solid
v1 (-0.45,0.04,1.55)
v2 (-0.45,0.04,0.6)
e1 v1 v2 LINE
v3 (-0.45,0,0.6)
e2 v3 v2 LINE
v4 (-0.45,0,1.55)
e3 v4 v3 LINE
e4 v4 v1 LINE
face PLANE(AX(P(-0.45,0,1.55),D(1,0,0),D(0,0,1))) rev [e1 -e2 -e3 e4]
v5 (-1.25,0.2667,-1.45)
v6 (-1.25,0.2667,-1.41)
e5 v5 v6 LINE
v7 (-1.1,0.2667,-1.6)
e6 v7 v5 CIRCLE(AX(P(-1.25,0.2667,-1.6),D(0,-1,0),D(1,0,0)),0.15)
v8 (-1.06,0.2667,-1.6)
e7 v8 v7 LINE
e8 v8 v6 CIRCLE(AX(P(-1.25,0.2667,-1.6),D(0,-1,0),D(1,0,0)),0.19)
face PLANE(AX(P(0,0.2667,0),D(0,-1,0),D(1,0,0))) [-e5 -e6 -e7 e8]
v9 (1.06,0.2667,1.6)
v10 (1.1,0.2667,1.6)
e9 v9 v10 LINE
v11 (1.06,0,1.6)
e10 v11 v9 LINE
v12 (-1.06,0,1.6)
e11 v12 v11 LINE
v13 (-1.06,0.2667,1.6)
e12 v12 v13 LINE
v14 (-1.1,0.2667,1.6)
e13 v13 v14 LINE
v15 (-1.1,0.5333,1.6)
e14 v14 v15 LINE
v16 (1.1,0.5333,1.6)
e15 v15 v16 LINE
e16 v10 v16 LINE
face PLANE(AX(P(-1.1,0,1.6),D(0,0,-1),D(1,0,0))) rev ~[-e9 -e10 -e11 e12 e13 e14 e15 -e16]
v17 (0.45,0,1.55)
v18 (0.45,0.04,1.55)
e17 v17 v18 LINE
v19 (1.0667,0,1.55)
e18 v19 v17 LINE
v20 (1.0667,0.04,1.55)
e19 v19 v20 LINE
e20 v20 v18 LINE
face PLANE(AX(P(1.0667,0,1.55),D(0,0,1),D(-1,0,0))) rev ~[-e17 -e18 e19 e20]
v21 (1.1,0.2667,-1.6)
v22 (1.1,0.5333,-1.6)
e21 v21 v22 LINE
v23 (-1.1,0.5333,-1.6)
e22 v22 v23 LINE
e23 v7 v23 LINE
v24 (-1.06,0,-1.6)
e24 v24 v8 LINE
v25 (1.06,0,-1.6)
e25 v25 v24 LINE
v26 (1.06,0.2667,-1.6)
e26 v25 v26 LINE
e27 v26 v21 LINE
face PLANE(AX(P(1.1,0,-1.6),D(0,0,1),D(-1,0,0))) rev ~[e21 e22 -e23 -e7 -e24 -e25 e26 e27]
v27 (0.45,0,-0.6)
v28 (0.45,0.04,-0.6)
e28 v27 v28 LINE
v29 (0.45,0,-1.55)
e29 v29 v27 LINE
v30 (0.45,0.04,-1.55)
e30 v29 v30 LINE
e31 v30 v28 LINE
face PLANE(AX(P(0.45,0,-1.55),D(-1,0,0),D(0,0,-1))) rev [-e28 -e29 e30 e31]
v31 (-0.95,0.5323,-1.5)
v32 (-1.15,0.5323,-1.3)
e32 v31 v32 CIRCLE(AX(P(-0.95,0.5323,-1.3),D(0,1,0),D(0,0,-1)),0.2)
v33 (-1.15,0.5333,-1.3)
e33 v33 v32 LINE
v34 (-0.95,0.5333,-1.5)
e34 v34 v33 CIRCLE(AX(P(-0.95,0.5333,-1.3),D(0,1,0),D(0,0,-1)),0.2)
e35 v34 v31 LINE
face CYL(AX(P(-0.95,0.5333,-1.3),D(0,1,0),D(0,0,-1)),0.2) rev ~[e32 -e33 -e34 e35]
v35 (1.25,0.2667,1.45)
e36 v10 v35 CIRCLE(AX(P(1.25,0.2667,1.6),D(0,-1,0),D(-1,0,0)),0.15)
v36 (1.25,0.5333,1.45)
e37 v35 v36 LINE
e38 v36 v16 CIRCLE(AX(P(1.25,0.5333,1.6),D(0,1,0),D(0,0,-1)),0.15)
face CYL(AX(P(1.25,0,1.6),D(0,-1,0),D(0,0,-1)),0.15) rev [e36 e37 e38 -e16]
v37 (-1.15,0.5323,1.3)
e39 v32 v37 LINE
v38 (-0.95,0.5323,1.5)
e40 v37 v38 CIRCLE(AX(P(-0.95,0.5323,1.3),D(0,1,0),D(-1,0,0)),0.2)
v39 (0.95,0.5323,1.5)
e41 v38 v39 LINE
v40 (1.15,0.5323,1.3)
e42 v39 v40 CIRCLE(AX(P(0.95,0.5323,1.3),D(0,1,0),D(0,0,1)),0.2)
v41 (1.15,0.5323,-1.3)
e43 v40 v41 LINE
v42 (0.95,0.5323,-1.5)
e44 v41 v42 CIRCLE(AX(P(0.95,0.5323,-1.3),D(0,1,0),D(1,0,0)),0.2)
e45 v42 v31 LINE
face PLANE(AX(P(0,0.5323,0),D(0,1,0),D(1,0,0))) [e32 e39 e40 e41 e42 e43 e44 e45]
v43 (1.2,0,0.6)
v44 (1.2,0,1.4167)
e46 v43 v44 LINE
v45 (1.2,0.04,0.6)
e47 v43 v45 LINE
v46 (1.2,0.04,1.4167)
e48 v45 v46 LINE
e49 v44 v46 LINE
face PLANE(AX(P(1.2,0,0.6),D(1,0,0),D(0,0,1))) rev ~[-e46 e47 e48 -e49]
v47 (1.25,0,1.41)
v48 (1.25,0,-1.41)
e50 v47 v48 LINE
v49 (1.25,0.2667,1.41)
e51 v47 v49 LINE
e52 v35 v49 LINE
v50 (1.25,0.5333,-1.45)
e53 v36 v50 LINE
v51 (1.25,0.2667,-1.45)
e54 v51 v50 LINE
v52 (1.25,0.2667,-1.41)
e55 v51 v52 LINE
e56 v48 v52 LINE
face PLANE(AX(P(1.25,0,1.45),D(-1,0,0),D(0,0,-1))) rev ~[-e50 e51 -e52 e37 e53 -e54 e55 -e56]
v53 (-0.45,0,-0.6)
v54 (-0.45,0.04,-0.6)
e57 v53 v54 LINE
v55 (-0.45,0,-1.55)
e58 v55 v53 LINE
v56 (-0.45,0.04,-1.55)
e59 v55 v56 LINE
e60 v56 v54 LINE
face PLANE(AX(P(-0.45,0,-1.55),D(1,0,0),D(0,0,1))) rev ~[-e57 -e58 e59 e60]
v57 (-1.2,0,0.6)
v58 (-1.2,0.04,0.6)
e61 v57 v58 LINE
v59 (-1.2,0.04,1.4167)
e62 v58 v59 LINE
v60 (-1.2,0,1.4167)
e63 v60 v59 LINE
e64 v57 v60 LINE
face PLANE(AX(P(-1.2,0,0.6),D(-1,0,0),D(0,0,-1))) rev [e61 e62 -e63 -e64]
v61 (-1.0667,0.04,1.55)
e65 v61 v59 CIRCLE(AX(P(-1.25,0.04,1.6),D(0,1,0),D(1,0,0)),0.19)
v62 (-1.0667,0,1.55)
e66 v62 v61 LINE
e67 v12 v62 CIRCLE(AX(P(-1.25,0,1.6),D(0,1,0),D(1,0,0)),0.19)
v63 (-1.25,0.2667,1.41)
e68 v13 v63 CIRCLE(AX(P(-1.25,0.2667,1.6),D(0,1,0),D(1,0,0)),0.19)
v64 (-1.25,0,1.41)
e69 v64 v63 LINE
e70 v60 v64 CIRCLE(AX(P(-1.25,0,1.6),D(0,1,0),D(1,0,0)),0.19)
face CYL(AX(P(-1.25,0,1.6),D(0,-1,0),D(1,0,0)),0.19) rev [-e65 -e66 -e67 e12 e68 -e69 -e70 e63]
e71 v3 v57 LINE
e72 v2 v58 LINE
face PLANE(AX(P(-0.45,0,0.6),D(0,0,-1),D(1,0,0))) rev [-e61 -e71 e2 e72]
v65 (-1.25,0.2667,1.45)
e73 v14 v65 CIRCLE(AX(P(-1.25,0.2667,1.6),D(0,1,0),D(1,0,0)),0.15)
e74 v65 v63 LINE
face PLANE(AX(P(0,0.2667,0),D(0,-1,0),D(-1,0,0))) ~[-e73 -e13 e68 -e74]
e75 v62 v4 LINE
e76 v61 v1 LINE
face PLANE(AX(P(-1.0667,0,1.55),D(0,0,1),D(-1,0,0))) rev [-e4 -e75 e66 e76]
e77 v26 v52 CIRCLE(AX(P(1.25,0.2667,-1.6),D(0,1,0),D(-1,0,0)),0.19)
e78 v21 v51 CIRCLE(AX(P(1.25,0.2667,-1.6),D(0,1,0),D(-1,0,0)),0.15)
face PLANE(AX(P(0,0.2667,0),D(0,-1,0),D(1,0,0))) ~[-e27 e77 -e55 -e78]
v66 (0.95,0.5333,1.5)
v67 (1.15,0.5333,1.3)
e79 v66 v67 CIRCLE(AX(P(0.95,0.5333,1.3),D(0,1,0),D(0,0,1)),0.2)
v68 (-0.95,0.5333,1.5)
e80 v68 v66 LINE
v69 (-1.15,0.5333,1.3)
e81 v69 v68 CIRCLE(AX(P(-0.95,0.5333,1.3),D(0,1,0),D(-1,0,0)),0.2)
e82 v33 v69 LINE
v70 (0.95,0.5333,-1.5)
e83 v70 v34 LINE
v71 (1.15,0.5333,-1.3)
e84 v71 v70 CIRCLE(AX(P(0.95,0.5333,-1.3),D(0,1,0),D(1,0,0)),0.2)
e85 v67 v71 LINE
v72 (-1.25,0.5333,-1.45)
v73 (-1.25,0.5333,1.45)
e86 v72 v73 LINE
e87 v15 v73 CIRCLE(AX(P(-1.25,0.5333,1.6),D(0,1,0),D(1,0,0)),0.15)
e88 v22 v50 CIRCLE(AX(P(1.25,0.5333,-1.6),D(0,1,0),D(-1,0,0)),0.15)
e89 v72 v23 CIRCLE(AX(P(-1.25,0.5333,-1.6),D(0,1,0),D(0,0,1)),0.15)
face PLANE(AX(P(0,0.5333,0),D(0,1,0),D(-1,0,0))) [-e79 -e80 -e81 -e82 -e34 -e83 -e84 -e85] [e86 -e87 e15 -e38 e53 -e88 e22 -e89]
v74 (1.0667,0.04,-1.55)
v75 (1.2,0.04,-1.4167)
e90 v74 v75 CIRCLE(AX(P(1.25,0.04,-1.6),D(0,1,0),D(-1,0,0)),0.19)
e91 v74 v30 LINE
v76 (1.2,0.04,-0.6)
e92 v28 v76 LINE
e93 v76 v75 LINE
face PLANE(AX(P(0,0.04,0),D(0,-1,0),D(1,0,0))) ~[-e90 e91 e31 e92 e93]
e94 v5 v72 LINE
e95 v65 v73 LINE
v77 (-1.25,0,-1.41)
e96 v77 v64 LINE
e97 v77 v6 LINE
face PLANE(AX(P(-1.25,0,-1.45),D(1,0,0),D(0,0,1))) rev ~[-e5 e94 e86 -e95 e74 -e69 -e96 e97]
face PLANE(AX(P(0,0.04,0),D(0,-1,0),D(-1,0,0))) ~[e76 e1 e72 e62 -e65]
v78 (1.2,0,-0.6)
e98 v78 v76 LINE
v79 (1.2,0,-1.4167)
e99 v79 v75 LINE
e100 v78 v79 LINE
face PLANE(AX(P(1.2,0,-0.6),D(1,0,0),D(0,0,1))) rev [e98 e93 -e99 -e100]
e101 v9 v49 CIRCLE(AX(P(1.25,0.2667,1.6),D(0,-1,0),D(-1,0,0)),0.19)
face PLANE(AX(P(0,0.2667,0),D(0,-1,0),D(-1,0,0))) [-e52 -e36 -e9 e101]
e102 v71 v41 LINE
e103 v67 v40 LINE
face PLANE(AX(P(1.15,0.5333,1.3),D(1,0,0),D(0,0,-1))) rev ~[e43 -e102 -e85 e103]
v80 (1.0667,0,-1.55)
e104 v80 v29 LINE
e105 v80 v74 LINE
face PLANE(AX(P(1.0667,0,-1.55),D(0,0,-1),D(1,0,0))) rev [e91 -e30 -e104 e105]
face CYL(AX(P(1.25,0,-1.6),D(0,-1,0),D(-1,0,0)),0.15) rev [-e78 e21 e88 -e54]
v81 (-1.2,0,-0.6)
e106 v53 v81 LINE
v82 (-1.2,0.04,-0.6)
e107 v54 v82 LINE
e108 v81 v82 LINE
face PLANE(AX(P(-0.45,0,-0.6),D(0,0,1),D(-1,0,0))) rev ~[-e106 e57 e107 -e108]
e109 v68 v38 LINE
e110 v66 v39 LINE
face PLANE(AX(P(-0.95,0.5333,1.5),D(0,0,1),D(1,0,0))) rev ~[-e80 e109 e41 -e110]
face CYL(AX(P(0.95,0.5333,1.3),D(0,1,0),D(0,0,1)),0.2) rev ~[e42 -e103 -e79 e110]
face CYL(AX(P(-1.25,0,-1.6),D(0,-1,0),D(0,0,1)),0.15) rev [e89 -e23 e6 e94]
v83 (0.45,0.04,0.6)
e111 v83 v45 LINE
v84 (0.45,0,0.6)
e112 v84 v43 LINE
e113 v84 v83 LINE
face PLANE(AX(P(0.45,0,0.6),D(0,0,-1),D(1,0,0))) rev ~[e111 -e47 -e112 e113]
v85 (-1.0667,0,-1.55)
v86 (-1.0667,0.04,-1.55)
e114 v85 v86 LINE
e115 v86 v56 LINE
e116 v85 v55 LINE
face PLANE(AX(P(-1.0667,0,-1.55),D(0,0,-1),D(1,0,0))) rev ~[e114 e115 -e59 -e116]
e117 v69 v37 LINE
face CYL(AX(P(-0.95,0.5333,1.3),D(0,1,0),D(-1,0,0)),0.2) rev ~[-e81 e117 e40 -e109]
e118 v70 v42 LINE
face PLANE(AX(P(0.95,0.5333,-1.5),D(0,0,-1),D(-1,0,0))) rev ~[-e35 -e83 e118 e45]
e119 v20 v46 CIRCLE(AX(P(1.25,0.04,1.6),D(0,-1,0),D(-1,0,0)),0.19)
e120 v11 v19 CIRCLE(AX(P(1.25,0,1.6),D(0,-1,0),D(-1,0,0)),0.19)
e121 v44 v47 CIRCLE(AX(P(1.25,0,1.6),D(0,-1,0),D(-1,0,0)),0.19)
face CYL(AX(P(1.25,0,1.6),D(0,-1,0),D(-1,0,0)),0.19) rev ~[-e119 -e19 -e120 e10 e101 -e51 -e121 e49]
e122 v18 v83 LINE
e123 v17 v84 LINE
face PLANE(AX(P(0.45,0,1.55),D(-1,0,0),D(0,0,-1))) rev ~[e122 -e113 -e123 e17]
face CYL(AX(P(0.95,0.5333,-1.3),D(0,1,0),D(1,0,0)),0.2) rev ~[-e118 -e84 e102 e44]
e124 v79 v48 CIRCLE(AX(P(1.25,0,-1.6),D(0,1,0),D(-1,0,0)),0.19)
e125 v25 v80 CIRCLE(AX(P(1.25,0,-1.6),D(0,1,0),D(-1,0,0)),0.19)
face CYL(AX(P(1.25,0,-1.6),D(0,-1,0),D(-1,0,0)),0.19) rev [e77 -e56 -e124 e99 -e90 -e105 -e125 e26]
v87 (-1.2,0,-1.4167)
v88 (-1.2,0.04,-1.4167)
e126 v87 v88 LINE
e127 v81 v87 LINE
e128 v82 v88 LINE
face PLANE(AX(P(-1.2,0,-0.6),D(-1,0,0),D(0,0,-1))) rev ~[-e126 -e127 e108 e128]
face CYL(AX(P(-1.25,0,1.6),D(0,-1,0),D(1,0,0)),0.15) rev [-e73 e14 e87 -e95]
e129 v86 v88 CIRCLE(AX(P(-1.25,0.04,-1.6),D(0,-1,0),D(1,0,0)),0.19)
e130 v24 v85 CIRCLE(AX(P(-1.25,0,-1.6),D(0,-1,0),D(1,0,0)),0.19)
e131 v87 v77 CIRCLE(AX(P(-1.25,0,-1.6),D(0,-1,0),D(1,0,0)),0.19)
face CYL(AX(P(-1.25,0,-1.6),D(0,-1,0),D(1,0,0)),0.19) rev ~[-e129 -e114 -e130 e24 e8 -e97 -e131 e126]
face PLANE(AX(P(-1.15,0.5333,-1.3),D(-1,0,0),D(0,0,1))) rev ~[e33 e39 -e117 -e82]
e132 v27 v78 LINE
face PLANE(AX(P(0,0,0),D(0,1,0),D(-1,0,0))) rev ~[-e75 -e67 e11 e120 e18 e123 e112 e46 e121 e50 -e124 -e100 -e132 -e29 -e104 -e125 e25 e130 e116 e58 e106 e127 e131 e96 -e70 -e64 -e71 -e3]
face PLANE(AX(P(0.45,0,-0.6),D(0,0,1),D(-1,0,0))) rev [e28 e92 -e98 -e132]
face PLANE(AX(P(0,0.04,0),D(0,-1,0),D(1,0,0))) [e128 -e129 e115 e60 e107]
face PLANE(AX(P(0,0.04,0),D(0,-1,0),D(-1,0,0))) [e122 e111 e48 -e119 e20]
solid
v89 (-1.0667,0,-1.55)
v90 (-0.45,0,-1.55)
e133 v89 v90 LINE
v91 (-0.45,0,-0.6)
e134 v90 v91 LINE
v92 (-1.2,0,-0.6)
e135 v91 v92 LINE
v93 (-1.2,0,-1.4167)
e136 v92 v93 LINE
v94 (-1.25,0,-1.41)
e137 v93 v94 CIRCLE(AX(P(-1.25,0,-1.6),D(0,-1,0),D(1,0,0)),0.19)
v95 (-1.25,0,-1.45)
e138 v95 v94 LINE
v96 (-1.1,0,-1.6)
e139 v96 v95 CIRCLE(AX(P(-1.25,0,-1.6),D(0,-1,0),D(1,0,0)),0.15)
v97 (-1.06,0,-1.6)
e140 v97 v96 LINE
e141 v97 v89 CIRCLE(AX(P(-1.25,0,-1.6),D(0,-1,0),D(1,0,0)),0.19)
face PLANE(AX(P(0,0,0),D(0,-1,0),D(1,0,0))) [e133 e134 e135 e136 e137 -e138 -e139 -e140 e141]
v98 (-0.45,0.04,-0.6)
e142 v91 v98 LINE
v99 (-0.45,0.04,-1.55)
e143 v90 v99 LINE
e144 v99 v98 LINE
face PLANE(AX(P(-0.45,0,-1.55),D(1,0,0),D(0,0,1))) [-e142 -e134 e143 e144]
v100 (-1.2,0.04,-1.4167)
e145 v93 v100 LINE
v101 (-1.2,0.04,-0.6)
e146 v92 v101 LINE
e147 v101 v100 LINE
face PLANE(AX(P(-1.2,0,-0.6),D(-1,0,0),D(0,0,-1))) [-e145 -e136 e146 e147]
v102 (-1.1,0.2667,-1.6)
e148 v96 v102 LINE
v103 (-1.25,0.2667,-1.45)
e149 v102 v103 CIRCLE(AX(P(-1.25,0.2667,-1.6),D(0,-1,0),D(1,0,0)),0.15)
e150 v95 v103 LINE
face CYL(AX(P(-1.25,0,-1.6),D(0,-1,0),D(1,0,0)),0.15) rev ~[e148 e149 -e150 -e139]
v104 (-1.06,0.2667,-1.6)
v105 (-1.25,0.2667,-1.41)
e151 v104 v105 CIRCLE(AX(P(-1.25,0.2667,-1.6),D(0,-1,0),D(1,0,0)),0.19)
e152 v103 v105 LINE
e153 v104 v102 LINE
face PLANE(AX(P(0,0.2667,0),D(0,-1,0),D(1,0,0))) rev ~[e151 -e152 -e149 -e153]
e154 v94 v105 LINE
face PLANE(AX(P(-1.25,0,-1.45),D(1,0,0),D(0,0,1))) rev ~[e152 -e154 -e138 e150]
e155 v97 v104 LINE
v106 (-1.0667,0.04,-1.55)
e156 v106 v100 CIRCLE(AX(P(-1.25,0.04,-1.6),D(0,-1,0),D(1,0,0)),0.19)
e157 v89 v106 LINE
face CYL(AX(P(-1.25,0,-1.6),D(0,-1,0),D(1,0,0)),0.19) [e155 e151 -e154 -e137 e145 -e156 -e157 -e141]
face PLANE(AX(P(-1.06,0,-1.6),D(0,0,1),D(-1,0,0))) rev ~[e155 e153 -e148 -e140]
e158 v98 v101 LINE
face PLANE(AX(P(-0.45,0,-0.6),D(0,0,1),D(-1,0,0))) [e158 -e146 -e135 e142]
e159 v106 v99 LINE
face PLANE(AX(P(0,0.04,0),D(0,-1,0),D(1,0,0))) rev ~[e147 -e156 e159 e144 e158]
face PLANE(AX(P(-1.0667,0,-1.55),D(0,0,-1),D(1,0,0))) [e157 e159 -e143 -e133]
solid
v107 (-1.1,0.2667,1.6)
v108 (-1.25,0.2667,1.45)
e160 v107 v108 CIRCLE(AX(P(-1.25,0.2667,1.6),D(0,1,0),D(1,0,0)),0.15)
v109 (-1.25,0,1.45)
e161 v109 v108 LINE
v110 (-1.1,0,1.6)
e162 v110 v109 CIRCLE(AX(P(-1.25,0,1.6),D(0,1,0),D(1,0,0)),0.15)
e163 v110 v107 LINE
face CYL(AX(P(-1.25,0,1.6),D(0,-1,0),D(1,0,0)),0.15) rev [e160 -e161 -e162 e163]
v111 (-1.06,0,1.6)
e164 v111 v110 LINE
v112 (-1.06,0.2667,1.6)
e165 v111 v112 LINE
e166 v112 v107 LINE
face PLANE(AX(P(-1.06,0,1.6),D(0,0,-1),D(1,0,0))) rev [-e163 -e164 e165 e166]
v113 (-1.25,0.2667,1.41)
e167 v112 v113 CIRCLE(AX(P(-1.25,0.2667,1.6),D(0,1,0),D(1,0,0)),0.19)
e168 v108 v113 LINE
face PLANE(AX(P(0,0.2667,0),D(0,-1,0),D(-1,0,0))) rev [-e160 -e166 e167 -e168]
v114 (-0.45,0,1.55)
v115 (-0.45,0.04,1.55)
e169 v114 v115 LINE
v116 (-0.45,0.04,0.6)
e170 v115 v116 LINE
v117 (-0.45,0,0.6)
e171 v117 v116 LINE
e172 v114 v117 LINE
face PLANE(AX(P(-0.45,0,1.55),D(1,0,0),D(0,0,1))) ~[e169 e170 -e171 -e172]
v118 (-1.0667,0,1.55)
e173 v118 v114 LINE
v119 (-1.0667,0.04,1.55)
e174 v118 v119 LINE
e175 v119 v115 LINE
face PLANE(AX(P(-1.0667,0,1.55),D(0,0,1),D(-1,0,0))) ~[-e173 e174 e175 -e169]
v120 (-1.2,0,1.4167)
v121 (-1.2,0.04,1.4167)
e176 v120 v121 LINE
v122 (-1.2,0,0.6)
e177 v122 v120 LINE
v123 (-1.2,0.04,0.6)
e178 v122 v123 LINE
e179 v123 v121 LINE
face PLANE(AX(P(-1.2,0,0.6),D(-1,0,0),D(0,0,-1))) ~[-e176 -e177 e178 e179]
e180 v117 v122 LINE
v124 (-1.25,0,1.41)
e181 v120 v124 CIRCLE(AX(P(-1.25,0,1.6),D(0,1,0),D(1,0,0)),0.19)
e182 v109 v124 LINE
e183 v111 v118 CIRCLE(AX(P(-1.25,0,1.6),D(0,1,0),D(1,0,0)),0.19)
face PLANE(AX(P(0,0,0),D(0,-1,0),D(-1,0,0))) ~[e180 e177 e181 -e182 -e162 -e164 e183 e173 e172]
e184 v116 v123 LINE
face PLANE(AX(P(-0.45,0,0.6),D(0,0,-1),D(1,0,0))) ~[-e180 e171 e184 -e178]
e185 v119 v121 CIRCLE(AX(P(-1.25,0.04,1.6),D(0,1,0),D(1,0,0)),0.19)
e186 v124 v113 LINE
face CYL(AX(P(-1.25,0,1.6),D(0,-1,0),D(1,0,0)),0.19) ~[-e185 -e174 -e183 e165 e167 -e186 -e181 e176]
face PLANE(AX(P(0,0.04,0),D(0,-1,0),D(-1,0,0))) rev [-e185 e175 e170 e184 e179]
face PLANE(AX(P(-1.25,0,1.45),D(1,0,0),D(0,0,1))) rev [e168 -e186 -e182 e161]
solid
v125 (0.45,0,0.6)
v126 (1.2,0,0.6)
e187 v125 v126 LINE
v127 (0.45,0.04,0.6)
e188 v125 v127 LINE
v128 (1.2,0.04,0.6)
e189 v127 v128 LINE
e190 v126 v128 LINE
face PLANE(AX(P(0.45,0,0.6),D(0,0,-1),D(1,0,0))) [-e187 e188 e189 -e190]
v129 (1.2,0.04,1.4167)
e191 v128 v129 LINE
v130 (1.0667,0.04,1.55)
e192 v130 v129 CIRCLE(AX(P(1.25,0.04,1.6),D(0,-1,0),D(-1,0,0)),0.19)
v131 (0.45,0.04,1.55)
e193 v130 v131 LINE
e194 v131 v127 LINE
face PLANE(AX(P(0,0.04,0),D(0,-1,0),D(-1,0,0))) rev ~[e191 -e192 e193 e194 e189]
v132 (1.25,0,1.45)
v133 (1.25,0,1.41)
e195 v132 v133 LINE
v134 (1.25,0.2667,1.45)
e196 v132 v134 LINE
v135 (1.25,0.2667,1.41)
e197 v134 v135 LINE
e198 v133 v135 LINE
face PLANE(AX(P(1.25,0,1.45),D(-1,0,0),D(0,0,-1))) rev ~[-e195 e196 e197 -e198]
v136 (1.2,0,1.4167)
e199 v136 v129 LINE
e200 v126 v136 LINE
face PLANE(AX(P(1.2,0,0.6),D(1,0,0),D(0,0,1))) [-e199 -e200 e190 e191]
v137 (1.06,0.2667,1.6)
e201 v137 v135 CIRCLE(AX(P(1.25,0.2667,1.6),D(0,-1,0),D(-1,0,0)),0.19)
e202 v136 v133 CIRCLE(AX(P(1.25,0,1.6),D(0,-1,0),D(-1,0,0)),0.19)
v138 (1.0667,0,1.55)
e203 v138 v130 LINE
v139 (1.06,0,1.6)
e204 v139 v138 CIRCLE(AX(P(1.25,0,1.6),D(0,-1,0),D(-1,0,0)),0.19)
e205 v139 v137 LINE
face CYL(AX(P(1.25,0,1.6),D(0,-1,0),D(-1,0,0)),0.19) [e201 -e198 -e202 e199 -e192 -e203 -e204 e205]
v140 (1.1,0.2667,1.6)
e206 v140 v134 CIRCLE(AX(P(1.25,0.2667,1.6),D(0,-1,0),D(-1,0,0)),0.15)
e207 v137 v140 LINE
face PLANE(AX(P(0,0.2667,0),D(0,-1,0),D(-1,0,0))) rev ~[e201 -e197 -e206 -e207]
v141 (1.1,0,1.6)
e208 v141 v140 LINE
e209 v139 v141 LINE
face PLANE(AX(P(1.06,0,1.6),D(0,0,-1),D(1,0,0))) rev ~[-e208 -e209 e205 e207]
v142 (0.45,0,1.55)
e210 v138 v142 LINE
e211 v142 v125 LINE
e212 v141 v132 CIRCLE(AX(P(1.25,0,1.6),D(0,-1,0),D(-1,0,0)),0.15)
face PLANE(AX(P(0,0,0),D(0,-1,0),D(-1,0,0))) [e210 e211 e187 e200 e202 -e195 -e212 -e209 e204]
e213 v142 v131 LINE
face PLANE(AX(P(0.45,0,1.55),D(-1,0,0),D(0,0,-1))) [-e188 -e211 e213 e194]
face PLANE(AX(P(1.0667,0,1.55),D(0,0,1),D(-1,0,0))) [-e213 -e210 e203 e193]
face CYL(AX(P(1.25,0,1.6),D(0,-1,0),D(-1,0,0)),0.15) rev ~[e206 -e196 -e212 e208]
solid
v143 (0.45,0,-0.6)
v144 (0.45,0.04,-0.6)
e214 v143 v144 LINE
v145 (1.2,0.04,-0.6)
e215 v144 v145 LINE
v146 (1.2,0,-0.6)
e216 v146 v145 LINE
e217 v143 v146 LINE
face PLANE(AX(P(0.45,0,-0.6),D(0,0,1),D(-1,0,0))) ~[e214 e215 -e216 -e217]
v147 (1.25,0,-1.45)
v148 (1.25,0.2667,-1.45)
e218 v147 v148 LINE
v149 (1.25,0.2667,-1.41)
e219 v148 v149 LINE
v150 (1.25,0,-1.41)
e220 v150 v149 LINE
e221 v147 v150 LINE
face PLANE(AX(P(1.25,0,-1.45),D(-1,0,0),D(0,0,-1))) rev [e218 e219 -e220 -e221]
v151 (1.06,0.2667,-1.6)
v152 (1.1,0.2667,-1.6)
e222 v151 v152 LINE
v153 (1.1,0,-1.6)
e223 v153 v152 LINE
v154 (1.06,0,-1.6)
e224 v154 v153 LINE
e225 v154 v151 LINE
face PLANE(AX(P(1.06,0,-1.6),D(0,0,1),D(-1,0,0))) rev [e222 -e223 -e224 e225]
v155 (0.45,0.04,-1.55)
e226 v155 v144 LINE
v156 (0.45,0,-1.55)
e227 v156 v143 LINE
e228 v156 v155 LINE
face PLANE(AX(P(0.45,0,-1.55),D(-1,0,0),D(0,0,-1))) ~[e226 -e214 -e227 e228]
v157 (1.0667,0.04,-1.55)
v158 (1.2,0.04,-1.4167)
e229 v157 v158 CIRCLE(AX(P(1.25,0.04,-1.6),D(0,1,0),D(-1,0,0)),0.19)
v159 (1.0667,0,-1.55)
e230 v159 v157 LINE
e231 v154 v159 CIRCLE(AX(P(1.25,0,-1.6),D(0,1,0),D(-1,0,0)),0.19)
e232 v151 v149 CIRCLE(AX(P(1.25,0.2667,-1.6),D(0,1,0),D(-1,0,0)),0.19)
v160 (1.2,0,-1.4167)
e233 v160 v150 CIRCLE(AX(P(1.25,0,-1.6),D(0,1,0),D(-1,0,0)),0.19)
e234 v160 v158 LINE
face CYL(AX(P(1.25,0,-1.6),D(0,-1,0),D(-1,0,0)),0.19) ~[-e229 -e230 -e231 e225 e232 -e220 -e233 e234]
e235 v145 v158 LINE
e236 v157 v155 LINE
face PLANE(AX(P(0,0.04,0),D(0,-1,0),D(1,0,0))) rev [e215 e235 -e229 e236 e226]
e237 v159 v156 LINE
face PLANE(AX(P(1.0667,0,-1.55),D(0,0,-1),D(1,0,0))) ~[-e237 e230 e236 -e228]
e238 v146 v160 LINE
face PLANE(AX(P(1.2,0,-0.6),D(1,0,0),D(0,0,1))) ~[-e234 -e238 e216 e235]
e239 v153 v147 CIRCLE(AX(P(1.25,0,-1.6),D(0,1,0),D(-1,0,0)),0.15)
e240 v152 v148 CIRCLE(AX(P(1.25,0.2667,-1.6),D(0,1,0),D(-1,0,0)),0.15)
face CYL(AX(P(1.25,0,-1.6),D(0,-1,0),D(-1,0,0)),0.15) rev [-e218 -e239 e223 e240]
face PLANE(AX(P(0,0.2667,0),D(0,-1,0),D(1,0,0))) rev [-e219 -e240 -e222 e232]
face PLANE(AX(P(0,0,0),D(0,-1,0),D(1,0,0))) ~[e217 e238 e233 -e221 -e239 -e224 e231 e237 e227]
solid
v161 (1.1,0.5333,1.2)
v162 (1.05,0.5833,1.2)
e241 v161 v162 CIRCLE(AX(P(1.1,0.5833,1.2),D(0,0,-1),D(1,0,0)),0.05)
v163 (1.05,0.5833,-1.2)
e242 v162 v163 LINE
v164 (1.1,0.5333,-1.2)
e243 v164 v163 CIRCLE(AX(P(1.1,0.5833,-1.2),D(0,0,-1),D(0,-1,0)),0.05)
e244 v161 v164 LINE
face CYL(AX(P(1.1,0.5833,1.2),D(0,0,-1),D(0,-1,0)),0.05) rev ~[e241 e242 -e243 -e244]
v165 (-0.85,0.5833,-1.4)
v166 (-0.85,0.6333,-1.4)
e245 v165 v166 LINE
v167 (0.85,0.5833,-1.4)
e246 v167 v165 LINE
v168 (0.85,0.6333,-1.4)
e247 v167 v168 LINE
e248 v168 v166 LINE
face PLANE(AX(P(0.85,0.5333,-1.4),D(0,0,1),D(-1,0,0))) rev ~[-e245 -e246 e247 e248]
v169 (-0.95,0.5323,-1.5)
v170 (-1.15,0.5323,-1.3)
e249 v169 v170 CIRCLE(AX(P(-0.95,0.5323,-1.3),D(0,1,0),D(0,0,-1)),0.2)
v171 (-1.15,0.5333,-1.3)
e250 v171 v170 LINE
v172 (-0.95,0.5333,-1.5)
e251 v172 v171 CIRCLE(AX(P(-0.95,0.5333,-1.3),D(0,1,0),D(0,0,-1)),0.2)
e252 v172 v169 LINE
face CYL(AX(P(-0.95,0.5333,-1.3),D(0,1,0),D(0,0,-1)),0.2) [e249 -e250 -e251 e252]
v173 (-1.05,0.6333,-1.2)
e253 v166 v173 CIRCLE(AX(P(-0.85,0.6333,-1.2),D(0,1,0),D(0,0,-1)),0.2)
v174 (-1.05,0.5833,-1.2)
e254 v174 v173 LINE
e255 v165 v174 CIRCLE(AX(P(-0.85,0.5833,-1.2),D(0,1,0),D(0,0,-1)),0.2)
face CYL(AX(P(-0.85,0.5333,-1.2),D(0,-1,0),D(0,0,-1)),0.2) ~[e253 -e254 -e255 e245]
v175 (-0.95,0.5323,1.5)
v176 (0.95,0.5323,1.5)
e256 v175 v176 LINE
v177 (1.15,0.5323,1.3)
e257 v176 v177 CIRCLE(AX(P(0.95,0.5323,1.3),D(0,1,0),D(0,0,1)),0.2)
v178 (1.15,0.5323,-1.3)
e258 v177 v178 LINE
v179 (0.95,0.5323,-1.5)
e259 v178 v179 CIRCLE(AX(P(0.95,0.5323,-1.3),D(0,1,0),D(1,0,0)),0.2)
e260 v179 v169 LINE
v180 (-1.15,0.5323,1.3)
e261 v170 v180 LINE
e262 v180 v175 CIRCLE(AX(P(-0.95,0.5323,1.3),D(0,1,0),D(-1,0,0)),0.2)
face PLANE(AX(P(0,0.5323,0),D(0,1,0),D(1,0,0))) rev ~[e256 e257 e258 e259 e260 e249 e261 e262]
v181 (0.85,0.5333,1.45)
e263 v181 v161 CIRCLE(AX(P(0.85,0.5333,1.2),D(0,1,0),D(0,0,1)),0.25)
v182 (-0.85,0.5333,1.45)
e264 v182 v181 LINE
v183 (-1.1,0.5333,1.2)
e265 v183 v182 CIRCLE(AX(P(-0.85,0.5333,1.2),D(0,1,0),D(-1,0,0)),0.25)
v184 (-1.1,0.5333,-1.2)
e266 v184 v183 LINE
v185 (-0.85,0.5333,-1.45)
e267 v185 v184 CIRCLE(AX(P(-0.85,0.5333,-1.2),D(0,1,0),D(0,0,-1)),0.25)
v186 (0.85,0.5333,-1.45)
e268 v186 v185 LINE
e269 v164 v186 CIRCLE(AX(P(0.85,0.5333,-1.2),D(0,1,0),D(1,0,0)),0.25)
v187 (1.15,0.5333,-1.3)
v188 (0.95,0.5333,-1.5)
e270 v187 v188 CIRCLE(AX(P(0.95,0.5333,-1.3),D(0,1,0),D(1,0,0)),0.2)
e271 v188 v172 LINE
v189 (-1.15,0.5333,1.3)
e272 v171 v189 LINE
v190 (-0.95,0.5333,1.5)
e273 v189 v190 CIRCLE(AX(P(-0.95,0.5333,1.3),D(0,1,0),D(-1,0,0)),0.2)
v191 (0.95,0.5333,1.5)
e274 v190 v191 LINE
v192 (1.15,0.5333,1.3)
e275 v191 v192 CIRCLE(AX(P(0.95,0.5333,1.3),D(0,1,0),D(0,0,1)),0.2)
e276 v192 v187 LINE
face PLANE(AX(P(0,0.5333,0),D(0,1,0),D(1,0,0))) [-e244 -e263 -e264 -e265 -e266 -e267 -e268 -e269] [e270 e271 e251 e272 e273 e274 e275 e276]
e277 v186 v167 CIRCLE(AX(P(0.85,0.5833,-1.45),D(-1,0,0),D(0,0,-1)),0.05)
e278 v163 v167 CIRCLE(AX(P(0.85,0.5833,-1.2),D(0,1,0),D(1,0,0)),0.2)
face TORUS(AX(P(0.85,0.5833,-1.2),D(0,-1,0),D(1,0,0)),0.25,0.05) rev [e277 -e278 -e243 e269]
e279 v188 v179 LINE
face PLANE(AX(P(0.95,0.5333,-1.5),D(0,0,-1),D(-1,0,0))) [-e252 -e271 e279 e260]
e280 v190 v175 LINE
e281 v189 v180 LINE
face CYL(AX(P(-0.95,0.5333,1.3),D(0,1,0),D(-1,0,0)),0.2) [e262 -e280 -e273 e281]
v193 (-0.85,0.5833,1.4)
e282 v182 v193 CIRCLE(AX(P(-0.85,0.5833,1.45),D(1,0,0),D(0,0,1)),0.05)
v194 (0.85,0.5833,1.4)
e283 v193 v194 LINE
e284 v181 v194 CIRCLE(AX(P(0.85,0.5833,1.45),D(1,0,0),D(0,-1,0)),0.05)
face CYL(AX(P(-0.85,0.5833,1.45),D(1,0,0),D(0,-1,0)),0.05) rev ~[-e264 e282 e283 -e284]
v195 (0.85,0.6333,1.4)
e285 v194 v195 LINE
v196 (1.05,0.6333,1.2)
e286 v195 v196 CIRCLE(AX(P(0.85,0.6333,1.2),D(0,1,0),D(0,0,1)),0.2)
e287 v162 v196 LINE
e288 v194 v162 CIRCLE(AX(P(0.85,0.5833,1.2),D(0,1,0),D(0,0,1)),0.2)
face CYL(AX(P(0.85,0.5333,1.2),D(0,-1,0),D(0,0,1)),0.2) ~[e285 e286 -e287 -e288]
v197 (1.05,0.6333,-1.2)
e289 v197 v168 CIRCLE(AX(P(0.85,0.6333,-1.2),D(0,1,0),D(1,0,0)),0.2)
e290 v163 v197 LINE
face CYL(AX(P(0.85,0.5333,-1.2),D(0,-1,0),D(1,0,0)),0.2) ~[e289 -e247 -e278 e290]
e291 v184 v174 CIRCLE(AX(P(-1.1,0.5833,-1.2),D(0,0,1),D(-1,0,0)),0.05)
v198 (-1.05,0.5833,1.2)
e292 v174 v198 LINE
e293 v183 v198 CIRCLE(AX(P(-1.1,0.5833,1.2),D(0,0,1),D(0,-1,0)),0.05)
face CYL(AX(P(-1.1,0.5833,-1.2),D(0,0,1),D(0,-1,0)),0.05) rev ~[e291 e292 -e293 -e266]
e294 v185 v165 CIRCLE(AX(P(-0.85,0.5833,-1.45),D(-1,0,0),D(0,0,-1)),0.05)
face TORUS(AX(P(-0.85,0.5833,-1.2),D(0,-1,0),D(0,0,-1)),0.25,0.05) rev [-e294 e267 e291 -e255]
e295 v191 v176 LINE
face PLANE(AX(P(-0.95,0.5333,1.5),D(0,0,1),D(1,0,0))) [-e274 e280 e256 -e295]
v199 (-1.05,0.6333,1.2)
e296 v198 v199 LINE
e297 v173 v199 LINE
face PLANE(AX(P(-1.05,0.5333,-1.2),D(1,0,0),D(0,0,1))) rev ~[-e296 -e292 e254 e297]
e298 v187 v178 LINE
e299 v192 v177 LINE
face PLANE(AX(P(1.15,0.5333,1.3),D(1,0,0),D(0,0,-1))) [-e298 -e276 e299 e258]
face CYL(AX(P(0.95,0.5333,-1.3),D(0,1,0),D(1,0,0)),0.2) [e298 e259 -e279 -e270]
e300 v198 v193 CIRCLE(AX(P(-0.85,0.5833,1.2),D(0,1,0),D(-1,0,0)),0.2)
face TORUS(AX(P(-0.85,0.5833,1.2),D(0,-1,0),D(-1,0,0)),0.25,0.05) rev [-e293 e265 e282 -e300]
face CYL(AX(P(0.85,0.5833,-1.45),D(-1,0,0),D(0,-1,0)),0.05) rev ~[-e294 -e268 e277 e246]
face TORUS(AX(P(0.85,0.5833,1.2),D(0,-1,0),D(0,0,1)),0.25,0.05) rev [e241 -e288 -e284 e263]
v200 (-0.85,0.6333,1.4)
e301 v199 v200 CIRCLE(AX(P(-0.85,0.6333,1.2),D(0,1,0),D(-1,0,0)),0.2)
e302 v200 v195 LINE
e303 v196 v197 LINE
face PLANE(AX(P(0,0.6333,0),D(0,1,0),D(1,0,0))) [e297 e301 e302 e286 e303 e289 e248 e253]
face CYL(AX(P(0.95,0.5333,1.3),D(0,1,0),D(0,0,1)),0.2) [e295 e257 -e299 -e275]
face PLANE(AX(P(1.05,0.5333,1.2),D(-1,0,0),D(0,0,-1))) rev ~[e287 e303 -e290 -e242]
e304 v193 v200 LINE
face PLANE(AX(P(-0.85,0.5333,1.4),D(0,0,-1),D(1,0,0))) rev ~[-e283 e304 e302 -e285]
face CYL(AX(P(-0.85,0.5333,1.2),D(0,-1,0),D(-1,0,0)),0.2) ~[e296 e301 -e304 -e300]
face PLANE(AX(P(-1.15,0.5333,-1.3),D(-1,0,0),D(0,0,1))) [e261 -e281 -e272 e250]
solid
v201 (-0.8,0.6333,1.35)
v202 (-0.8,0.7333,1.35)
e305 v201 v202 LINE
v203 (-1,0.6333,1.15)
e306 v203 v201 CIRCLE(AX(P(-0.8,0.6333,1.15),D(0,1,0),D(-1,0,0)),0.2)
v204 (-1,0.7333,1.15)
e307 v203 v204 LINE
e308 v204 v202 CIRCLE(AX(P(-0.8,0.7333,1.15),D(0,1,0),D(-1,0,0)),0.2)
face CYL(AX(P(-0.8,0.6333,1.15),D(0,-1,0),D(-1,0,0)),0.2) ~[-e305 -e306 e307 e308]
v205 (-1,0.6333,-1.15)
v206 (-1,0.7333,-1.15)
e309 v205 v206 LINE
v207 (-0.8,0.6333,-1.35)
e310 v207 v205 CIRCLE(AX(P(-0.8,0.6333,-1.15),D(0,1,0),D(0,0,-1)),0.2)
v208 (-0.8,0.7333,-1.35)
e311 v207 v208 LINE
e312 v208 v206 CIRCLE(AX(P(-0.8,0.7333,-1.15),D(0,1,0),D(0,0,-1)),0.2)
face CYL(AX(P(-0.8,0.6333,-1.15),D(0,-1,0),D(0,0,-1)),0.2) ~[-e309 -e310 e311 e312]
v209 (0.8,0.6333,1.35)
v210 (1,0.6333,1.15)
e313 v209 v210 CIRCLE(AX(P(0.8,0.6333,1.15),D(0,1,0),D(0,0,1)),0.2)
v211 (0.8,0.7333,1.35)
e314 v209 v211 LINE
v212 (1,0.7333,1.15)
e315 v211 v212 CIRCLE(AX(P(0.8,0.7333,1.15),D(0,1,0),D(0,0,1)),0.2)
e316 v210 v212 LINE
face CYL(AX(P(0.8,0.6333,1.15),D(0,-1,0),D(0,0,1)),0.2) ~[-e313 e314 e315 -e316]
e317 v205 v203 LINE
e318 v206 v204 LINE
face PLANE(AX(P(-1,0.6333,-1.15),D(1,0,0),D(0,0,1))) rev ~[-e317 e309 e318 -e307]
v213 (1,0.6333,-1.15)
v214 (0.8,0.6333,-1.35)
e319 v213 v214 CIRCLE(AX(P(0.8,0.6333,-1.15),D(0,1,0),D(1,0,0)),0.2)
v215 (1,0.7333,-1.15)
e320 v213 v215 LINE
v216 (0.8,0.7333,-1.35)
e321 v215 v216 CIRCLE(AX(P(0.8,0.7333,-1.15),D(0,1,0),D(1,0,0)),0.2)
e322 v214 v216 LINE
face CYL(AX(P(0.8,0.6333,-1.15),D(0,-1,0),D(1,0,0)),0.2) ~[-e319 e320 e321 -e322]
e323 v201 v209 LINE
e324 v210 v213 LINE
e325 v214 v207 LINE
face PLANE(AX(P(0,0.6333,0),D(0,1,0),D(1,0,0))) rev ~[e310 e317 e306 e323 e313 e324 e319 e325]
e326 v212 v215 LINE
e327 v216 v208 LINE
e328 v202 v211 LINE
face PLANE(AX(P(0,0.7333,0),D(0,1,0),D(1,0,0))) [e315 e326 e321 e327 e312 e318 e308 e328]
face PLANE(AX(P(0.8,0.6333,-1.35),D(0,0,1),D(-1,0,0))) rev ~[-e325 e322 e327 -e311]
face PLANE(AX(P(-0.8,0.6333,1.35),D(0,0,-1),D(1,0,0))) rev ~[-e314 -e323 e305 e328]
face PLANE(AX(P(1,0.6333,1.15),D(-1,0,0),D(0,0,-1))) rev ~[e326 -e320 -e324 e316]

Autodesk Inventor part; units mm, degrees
ref_plane "YZ Plane" through (0, 0, 0) normal (1, 0, 0) x (0, 1, 0)
ref_plane "XZ Plane" through (0, 0, 0) normal (0, 1, 0) x (-1, 0, 0)
ref_plane "XY Plane" through (0, 0, 0) normal (0, 0, 1) x (1, 0, 0)
sketch "Sketch1" plane through (0, 0, 0) normal (0, 1, 0) x (-1, 0, 0)
  line L0 (1.1, 1.6) -> (-1.1, 1.6)
  line L1 (-1.25, 1.45) -> (-1.25, -1.45)
  line L2 (-1.1, -1.6) -> (1.1, -1.6)
  line L3 (1.25, -1.45) -> (1.25, 1.45)
  arc A0 (1.25, -1.45) -> (1.1, -1.6) centre (1.25, -1.6) ccw
  arc A1 (1.1, 1.6) -> (1.25, 1.45) centre (1.25, 1.6) ccw
  arc A2 (-1.1, -1.6) -> (-1.25, -1.45) centre (-1.25, -1.6) ccw
  arc A3 (-1.25, 1.45) -> (-1.1, 1.6) centre (-1.25, 1.6) ccw
  point P0 (0, 0)
  point P1 (1.25, 0)
  point P2 (-1.25, 0)
  point P3 (0, 1.6)
  point P4 (0, -1.6)
  dimension "d2" = 3.2
  dimension "d3" = 2.5
  dimension "d4" = 0.15
extrude "Extrusion1" add sketch "Sketch1" along normal blind 0.5333
sketch "Sketch3" plane through (0, 0.5333, 0) normal (0, 1, 0) x (1, 0, 0)
  line L0 (0.95, 1.5) -> (-0.95, 1.5)
  line L1 (-1.15, 1.3) -> (-1.15, -1.3)
  line L2 (-0.95, -1.5) -> (0.95, -1.5)
  line L3 (1.15, -1.3) -> (1.15, 1.3)
  arc A0 (1.15, 1.3) -> (0.95, 1.5) centre (0.95, 1.3) ccw
  arc A1 (-0.95, 1.5) -> (-1.15, 1.3) centre (-0.95, 1.3) ccw
  arc A2 (-1.15, -1.3) -> (-0.95, -1.5) centre (-0.95, -1.3) ccw
  arc A3 (0.95, -1.5) -> (1.15, -1.3) centre (0.95, -1.3) ccw
  point P0 (0, 0)
  point P1 (0, 0)
  point P2 (0, 1.5)
  point P3 (1.15, 0)
  dimension "d12" = 3
  dimension "d13" = 2.3
  dimension "d14" = 0.2
extrude "Extrusion7" cut sketch "Sketch3" against normal blind 0.001
extrude "Extrusion3" add sketch "Sketch3" against normal blind 0.001 separate body
sketch "Sketch2" plane through (0, 0.5333, 0) normal (0, 1, 0) x (1, 0, 0)
  line L0 (0.85, 1.4) -> (-0.85, 1.4)
  line L1 (-1.05, 1.2) -> (-1.05, -1.2)
  line L2 (-0.85, -1.4) -> (0.85, -1.4)
  line L3 (1.05, -1.2) -> (1.05, 1.2)
  arc A0 (1.05, 1.2) -> (0.85, 1.4) centre (0.85, 1.2) ccw
  arc A1 (-0.85, 1.4) -> (-1.05, 1.2) centre (-0.85, 1.2) ccw
  arc A2 (-1.05, -1.2) -> (-0.85, -1.4) centre (-0.85, -1.2) ccw
  arc A3 (0.85, -1.4) -> (1.05, -1.2) centre (0.85, -1.2) ccw
  point P0 (0, 0)
  point P1 (0, 1.4)
  point P2 (1.05, 0)
  dimension "d7" = 2.8
  dimension "d8" = 2.1
  dimension "d9" = 0.2
extrude "Extrusion2" add sketch "Sketch2" along normal blind 0.1 bodies 2
sketch "Sketch4" plane through (0, 0.6333, 0) normal (0, 1, 0) x (1, 0, 0)
  line L0 (0.8, 1.35) -> (-0.8, 1.35)
  line L1 (-1, 1.15) -> (-1, -1.15)
  line L2 (-0.8, -1.35) -> (0.8, -1.35)
  line L3 (1, -1.15) -> (1, 1.15)
  arc A0 (1, 1.15) -> (0.8, 1.35) centre (0.8, 1.15) ccw
  arc A1 (-0.8, 1.35) -> (-1, 1.15) centre (-0.8, 1.15) ccw
  arc A2 (-1, -1.15) -> (-0.8, -1.35) centre (-0.8, -1.15) ccw
  arc A3 (0.8, -1.35) -> (1, -1.15) centre (0.8, -1.15) ccw
  point P0 (0, 0)
  point P1 (0, 0)
  point P2 (0, 1.35)
  point P3 (1, 0)
  dimension "d17" = 2.7
  dimension "d18" = 2
  dimension "d19" = 0.2
extrude "Extrusion4" add sketch "Sketch4" along normal blind 0.1 separate body
fillet "Fillet1" radius 0.05 8 edges at (-0.9914, 0.5333, -1.3414) (0, 0.5333, -1.4) (0.9914, 0.5333, -1.3414) (1.05, 0.5333, 0) (0.9914, 0.5333, 1.3414) (0, 0.5333, 1.4) (-0.9914, 0.5333, 1.3414) (-1.05, 0.5333, 0)
sketch "Sketch5" plane through (0, 0, 0) normal (0, -1, 0) x (1, 0, 0)
  arc A0 (-1.06, -1.6) -> (-1.25, -1.41) centre (-1.25, -1.6) ccw
  arc A1 (-1.1, -1.6) -> (-1.25, -1.45) centre (-1.25, -1.6) ccw projected
  line L0 (-1.25, -1.45) -> (-1.25, 1.45) projected
  line L1 (1.1, -1.6) -> (-1.1, -1.6) projected
  point P0 (0, 0)
  dimension "d23" = 0.38
extrude "Extrusion10" cut sketch "Sketch5" against normal blind 0.2667 bodies 1
sketch "Sketch6" plane through (0, 0, 0) normal (0, -1, 0) x (1, 0, 0)
  line L0 (-0.45, -0.6) -> (-1.2, -0.6)
  line L1 (-1.2, -0.6) -> (-1.2, -1.4167)
  line L2 (-1.0667, -1.55) -> (-0.45, -1.55)
  line L3 (-0.45, -1.55) -> (-0.45, -0.6)
  line L4 (1.1, -1.6) -> (-1.1, -1.6) projected
  line L5 (-1.25, -1.45) -> (-1.25, 1.45) projected
  arc A0 (-1.06, -1.6) -> (-1.25, -1.41) centre (-1.25, -1.6) ccw projected
  point P0 (0, 0)
  dimension "d26" = 1
  dimension "d27" = 0.8
  dimension "d28" = 0.05
  dimension "d29" = 0.05
extrude "Extrusion11" cut sketch "Sketch6" against normal blind 0.04 bodies 1
mirror "Mirror4" about plane through (0, 0, 0) normal (0, 0, 1) of "Extrusion10", "Extrusion11" bodies 1
mirror "Mirror5" about plane through (0, 0, 0) normal (1, 0, 0) of "Extrusion10", "Extrusion11", "Mirror4" bodies 1
extrude "Extrusion12" add sketch "Sketch6" against normal blind 0.04 separate body
extrude "Extrusion13" add sketch "Sketch5" against normal blind 0.2667 bodies 4
mirror "Mirror6" about plane through (0, 0, 0) normal (1, 0, 0) of "Extrusion12", "Extrusion13" bodies 4
mirror "Mirror7" about plane through (0, 0, 0) normal (0, 0, 1) of "Mirror6", "Extrusion13", "Extrusion12" bodies 4
properties part number "403C"
